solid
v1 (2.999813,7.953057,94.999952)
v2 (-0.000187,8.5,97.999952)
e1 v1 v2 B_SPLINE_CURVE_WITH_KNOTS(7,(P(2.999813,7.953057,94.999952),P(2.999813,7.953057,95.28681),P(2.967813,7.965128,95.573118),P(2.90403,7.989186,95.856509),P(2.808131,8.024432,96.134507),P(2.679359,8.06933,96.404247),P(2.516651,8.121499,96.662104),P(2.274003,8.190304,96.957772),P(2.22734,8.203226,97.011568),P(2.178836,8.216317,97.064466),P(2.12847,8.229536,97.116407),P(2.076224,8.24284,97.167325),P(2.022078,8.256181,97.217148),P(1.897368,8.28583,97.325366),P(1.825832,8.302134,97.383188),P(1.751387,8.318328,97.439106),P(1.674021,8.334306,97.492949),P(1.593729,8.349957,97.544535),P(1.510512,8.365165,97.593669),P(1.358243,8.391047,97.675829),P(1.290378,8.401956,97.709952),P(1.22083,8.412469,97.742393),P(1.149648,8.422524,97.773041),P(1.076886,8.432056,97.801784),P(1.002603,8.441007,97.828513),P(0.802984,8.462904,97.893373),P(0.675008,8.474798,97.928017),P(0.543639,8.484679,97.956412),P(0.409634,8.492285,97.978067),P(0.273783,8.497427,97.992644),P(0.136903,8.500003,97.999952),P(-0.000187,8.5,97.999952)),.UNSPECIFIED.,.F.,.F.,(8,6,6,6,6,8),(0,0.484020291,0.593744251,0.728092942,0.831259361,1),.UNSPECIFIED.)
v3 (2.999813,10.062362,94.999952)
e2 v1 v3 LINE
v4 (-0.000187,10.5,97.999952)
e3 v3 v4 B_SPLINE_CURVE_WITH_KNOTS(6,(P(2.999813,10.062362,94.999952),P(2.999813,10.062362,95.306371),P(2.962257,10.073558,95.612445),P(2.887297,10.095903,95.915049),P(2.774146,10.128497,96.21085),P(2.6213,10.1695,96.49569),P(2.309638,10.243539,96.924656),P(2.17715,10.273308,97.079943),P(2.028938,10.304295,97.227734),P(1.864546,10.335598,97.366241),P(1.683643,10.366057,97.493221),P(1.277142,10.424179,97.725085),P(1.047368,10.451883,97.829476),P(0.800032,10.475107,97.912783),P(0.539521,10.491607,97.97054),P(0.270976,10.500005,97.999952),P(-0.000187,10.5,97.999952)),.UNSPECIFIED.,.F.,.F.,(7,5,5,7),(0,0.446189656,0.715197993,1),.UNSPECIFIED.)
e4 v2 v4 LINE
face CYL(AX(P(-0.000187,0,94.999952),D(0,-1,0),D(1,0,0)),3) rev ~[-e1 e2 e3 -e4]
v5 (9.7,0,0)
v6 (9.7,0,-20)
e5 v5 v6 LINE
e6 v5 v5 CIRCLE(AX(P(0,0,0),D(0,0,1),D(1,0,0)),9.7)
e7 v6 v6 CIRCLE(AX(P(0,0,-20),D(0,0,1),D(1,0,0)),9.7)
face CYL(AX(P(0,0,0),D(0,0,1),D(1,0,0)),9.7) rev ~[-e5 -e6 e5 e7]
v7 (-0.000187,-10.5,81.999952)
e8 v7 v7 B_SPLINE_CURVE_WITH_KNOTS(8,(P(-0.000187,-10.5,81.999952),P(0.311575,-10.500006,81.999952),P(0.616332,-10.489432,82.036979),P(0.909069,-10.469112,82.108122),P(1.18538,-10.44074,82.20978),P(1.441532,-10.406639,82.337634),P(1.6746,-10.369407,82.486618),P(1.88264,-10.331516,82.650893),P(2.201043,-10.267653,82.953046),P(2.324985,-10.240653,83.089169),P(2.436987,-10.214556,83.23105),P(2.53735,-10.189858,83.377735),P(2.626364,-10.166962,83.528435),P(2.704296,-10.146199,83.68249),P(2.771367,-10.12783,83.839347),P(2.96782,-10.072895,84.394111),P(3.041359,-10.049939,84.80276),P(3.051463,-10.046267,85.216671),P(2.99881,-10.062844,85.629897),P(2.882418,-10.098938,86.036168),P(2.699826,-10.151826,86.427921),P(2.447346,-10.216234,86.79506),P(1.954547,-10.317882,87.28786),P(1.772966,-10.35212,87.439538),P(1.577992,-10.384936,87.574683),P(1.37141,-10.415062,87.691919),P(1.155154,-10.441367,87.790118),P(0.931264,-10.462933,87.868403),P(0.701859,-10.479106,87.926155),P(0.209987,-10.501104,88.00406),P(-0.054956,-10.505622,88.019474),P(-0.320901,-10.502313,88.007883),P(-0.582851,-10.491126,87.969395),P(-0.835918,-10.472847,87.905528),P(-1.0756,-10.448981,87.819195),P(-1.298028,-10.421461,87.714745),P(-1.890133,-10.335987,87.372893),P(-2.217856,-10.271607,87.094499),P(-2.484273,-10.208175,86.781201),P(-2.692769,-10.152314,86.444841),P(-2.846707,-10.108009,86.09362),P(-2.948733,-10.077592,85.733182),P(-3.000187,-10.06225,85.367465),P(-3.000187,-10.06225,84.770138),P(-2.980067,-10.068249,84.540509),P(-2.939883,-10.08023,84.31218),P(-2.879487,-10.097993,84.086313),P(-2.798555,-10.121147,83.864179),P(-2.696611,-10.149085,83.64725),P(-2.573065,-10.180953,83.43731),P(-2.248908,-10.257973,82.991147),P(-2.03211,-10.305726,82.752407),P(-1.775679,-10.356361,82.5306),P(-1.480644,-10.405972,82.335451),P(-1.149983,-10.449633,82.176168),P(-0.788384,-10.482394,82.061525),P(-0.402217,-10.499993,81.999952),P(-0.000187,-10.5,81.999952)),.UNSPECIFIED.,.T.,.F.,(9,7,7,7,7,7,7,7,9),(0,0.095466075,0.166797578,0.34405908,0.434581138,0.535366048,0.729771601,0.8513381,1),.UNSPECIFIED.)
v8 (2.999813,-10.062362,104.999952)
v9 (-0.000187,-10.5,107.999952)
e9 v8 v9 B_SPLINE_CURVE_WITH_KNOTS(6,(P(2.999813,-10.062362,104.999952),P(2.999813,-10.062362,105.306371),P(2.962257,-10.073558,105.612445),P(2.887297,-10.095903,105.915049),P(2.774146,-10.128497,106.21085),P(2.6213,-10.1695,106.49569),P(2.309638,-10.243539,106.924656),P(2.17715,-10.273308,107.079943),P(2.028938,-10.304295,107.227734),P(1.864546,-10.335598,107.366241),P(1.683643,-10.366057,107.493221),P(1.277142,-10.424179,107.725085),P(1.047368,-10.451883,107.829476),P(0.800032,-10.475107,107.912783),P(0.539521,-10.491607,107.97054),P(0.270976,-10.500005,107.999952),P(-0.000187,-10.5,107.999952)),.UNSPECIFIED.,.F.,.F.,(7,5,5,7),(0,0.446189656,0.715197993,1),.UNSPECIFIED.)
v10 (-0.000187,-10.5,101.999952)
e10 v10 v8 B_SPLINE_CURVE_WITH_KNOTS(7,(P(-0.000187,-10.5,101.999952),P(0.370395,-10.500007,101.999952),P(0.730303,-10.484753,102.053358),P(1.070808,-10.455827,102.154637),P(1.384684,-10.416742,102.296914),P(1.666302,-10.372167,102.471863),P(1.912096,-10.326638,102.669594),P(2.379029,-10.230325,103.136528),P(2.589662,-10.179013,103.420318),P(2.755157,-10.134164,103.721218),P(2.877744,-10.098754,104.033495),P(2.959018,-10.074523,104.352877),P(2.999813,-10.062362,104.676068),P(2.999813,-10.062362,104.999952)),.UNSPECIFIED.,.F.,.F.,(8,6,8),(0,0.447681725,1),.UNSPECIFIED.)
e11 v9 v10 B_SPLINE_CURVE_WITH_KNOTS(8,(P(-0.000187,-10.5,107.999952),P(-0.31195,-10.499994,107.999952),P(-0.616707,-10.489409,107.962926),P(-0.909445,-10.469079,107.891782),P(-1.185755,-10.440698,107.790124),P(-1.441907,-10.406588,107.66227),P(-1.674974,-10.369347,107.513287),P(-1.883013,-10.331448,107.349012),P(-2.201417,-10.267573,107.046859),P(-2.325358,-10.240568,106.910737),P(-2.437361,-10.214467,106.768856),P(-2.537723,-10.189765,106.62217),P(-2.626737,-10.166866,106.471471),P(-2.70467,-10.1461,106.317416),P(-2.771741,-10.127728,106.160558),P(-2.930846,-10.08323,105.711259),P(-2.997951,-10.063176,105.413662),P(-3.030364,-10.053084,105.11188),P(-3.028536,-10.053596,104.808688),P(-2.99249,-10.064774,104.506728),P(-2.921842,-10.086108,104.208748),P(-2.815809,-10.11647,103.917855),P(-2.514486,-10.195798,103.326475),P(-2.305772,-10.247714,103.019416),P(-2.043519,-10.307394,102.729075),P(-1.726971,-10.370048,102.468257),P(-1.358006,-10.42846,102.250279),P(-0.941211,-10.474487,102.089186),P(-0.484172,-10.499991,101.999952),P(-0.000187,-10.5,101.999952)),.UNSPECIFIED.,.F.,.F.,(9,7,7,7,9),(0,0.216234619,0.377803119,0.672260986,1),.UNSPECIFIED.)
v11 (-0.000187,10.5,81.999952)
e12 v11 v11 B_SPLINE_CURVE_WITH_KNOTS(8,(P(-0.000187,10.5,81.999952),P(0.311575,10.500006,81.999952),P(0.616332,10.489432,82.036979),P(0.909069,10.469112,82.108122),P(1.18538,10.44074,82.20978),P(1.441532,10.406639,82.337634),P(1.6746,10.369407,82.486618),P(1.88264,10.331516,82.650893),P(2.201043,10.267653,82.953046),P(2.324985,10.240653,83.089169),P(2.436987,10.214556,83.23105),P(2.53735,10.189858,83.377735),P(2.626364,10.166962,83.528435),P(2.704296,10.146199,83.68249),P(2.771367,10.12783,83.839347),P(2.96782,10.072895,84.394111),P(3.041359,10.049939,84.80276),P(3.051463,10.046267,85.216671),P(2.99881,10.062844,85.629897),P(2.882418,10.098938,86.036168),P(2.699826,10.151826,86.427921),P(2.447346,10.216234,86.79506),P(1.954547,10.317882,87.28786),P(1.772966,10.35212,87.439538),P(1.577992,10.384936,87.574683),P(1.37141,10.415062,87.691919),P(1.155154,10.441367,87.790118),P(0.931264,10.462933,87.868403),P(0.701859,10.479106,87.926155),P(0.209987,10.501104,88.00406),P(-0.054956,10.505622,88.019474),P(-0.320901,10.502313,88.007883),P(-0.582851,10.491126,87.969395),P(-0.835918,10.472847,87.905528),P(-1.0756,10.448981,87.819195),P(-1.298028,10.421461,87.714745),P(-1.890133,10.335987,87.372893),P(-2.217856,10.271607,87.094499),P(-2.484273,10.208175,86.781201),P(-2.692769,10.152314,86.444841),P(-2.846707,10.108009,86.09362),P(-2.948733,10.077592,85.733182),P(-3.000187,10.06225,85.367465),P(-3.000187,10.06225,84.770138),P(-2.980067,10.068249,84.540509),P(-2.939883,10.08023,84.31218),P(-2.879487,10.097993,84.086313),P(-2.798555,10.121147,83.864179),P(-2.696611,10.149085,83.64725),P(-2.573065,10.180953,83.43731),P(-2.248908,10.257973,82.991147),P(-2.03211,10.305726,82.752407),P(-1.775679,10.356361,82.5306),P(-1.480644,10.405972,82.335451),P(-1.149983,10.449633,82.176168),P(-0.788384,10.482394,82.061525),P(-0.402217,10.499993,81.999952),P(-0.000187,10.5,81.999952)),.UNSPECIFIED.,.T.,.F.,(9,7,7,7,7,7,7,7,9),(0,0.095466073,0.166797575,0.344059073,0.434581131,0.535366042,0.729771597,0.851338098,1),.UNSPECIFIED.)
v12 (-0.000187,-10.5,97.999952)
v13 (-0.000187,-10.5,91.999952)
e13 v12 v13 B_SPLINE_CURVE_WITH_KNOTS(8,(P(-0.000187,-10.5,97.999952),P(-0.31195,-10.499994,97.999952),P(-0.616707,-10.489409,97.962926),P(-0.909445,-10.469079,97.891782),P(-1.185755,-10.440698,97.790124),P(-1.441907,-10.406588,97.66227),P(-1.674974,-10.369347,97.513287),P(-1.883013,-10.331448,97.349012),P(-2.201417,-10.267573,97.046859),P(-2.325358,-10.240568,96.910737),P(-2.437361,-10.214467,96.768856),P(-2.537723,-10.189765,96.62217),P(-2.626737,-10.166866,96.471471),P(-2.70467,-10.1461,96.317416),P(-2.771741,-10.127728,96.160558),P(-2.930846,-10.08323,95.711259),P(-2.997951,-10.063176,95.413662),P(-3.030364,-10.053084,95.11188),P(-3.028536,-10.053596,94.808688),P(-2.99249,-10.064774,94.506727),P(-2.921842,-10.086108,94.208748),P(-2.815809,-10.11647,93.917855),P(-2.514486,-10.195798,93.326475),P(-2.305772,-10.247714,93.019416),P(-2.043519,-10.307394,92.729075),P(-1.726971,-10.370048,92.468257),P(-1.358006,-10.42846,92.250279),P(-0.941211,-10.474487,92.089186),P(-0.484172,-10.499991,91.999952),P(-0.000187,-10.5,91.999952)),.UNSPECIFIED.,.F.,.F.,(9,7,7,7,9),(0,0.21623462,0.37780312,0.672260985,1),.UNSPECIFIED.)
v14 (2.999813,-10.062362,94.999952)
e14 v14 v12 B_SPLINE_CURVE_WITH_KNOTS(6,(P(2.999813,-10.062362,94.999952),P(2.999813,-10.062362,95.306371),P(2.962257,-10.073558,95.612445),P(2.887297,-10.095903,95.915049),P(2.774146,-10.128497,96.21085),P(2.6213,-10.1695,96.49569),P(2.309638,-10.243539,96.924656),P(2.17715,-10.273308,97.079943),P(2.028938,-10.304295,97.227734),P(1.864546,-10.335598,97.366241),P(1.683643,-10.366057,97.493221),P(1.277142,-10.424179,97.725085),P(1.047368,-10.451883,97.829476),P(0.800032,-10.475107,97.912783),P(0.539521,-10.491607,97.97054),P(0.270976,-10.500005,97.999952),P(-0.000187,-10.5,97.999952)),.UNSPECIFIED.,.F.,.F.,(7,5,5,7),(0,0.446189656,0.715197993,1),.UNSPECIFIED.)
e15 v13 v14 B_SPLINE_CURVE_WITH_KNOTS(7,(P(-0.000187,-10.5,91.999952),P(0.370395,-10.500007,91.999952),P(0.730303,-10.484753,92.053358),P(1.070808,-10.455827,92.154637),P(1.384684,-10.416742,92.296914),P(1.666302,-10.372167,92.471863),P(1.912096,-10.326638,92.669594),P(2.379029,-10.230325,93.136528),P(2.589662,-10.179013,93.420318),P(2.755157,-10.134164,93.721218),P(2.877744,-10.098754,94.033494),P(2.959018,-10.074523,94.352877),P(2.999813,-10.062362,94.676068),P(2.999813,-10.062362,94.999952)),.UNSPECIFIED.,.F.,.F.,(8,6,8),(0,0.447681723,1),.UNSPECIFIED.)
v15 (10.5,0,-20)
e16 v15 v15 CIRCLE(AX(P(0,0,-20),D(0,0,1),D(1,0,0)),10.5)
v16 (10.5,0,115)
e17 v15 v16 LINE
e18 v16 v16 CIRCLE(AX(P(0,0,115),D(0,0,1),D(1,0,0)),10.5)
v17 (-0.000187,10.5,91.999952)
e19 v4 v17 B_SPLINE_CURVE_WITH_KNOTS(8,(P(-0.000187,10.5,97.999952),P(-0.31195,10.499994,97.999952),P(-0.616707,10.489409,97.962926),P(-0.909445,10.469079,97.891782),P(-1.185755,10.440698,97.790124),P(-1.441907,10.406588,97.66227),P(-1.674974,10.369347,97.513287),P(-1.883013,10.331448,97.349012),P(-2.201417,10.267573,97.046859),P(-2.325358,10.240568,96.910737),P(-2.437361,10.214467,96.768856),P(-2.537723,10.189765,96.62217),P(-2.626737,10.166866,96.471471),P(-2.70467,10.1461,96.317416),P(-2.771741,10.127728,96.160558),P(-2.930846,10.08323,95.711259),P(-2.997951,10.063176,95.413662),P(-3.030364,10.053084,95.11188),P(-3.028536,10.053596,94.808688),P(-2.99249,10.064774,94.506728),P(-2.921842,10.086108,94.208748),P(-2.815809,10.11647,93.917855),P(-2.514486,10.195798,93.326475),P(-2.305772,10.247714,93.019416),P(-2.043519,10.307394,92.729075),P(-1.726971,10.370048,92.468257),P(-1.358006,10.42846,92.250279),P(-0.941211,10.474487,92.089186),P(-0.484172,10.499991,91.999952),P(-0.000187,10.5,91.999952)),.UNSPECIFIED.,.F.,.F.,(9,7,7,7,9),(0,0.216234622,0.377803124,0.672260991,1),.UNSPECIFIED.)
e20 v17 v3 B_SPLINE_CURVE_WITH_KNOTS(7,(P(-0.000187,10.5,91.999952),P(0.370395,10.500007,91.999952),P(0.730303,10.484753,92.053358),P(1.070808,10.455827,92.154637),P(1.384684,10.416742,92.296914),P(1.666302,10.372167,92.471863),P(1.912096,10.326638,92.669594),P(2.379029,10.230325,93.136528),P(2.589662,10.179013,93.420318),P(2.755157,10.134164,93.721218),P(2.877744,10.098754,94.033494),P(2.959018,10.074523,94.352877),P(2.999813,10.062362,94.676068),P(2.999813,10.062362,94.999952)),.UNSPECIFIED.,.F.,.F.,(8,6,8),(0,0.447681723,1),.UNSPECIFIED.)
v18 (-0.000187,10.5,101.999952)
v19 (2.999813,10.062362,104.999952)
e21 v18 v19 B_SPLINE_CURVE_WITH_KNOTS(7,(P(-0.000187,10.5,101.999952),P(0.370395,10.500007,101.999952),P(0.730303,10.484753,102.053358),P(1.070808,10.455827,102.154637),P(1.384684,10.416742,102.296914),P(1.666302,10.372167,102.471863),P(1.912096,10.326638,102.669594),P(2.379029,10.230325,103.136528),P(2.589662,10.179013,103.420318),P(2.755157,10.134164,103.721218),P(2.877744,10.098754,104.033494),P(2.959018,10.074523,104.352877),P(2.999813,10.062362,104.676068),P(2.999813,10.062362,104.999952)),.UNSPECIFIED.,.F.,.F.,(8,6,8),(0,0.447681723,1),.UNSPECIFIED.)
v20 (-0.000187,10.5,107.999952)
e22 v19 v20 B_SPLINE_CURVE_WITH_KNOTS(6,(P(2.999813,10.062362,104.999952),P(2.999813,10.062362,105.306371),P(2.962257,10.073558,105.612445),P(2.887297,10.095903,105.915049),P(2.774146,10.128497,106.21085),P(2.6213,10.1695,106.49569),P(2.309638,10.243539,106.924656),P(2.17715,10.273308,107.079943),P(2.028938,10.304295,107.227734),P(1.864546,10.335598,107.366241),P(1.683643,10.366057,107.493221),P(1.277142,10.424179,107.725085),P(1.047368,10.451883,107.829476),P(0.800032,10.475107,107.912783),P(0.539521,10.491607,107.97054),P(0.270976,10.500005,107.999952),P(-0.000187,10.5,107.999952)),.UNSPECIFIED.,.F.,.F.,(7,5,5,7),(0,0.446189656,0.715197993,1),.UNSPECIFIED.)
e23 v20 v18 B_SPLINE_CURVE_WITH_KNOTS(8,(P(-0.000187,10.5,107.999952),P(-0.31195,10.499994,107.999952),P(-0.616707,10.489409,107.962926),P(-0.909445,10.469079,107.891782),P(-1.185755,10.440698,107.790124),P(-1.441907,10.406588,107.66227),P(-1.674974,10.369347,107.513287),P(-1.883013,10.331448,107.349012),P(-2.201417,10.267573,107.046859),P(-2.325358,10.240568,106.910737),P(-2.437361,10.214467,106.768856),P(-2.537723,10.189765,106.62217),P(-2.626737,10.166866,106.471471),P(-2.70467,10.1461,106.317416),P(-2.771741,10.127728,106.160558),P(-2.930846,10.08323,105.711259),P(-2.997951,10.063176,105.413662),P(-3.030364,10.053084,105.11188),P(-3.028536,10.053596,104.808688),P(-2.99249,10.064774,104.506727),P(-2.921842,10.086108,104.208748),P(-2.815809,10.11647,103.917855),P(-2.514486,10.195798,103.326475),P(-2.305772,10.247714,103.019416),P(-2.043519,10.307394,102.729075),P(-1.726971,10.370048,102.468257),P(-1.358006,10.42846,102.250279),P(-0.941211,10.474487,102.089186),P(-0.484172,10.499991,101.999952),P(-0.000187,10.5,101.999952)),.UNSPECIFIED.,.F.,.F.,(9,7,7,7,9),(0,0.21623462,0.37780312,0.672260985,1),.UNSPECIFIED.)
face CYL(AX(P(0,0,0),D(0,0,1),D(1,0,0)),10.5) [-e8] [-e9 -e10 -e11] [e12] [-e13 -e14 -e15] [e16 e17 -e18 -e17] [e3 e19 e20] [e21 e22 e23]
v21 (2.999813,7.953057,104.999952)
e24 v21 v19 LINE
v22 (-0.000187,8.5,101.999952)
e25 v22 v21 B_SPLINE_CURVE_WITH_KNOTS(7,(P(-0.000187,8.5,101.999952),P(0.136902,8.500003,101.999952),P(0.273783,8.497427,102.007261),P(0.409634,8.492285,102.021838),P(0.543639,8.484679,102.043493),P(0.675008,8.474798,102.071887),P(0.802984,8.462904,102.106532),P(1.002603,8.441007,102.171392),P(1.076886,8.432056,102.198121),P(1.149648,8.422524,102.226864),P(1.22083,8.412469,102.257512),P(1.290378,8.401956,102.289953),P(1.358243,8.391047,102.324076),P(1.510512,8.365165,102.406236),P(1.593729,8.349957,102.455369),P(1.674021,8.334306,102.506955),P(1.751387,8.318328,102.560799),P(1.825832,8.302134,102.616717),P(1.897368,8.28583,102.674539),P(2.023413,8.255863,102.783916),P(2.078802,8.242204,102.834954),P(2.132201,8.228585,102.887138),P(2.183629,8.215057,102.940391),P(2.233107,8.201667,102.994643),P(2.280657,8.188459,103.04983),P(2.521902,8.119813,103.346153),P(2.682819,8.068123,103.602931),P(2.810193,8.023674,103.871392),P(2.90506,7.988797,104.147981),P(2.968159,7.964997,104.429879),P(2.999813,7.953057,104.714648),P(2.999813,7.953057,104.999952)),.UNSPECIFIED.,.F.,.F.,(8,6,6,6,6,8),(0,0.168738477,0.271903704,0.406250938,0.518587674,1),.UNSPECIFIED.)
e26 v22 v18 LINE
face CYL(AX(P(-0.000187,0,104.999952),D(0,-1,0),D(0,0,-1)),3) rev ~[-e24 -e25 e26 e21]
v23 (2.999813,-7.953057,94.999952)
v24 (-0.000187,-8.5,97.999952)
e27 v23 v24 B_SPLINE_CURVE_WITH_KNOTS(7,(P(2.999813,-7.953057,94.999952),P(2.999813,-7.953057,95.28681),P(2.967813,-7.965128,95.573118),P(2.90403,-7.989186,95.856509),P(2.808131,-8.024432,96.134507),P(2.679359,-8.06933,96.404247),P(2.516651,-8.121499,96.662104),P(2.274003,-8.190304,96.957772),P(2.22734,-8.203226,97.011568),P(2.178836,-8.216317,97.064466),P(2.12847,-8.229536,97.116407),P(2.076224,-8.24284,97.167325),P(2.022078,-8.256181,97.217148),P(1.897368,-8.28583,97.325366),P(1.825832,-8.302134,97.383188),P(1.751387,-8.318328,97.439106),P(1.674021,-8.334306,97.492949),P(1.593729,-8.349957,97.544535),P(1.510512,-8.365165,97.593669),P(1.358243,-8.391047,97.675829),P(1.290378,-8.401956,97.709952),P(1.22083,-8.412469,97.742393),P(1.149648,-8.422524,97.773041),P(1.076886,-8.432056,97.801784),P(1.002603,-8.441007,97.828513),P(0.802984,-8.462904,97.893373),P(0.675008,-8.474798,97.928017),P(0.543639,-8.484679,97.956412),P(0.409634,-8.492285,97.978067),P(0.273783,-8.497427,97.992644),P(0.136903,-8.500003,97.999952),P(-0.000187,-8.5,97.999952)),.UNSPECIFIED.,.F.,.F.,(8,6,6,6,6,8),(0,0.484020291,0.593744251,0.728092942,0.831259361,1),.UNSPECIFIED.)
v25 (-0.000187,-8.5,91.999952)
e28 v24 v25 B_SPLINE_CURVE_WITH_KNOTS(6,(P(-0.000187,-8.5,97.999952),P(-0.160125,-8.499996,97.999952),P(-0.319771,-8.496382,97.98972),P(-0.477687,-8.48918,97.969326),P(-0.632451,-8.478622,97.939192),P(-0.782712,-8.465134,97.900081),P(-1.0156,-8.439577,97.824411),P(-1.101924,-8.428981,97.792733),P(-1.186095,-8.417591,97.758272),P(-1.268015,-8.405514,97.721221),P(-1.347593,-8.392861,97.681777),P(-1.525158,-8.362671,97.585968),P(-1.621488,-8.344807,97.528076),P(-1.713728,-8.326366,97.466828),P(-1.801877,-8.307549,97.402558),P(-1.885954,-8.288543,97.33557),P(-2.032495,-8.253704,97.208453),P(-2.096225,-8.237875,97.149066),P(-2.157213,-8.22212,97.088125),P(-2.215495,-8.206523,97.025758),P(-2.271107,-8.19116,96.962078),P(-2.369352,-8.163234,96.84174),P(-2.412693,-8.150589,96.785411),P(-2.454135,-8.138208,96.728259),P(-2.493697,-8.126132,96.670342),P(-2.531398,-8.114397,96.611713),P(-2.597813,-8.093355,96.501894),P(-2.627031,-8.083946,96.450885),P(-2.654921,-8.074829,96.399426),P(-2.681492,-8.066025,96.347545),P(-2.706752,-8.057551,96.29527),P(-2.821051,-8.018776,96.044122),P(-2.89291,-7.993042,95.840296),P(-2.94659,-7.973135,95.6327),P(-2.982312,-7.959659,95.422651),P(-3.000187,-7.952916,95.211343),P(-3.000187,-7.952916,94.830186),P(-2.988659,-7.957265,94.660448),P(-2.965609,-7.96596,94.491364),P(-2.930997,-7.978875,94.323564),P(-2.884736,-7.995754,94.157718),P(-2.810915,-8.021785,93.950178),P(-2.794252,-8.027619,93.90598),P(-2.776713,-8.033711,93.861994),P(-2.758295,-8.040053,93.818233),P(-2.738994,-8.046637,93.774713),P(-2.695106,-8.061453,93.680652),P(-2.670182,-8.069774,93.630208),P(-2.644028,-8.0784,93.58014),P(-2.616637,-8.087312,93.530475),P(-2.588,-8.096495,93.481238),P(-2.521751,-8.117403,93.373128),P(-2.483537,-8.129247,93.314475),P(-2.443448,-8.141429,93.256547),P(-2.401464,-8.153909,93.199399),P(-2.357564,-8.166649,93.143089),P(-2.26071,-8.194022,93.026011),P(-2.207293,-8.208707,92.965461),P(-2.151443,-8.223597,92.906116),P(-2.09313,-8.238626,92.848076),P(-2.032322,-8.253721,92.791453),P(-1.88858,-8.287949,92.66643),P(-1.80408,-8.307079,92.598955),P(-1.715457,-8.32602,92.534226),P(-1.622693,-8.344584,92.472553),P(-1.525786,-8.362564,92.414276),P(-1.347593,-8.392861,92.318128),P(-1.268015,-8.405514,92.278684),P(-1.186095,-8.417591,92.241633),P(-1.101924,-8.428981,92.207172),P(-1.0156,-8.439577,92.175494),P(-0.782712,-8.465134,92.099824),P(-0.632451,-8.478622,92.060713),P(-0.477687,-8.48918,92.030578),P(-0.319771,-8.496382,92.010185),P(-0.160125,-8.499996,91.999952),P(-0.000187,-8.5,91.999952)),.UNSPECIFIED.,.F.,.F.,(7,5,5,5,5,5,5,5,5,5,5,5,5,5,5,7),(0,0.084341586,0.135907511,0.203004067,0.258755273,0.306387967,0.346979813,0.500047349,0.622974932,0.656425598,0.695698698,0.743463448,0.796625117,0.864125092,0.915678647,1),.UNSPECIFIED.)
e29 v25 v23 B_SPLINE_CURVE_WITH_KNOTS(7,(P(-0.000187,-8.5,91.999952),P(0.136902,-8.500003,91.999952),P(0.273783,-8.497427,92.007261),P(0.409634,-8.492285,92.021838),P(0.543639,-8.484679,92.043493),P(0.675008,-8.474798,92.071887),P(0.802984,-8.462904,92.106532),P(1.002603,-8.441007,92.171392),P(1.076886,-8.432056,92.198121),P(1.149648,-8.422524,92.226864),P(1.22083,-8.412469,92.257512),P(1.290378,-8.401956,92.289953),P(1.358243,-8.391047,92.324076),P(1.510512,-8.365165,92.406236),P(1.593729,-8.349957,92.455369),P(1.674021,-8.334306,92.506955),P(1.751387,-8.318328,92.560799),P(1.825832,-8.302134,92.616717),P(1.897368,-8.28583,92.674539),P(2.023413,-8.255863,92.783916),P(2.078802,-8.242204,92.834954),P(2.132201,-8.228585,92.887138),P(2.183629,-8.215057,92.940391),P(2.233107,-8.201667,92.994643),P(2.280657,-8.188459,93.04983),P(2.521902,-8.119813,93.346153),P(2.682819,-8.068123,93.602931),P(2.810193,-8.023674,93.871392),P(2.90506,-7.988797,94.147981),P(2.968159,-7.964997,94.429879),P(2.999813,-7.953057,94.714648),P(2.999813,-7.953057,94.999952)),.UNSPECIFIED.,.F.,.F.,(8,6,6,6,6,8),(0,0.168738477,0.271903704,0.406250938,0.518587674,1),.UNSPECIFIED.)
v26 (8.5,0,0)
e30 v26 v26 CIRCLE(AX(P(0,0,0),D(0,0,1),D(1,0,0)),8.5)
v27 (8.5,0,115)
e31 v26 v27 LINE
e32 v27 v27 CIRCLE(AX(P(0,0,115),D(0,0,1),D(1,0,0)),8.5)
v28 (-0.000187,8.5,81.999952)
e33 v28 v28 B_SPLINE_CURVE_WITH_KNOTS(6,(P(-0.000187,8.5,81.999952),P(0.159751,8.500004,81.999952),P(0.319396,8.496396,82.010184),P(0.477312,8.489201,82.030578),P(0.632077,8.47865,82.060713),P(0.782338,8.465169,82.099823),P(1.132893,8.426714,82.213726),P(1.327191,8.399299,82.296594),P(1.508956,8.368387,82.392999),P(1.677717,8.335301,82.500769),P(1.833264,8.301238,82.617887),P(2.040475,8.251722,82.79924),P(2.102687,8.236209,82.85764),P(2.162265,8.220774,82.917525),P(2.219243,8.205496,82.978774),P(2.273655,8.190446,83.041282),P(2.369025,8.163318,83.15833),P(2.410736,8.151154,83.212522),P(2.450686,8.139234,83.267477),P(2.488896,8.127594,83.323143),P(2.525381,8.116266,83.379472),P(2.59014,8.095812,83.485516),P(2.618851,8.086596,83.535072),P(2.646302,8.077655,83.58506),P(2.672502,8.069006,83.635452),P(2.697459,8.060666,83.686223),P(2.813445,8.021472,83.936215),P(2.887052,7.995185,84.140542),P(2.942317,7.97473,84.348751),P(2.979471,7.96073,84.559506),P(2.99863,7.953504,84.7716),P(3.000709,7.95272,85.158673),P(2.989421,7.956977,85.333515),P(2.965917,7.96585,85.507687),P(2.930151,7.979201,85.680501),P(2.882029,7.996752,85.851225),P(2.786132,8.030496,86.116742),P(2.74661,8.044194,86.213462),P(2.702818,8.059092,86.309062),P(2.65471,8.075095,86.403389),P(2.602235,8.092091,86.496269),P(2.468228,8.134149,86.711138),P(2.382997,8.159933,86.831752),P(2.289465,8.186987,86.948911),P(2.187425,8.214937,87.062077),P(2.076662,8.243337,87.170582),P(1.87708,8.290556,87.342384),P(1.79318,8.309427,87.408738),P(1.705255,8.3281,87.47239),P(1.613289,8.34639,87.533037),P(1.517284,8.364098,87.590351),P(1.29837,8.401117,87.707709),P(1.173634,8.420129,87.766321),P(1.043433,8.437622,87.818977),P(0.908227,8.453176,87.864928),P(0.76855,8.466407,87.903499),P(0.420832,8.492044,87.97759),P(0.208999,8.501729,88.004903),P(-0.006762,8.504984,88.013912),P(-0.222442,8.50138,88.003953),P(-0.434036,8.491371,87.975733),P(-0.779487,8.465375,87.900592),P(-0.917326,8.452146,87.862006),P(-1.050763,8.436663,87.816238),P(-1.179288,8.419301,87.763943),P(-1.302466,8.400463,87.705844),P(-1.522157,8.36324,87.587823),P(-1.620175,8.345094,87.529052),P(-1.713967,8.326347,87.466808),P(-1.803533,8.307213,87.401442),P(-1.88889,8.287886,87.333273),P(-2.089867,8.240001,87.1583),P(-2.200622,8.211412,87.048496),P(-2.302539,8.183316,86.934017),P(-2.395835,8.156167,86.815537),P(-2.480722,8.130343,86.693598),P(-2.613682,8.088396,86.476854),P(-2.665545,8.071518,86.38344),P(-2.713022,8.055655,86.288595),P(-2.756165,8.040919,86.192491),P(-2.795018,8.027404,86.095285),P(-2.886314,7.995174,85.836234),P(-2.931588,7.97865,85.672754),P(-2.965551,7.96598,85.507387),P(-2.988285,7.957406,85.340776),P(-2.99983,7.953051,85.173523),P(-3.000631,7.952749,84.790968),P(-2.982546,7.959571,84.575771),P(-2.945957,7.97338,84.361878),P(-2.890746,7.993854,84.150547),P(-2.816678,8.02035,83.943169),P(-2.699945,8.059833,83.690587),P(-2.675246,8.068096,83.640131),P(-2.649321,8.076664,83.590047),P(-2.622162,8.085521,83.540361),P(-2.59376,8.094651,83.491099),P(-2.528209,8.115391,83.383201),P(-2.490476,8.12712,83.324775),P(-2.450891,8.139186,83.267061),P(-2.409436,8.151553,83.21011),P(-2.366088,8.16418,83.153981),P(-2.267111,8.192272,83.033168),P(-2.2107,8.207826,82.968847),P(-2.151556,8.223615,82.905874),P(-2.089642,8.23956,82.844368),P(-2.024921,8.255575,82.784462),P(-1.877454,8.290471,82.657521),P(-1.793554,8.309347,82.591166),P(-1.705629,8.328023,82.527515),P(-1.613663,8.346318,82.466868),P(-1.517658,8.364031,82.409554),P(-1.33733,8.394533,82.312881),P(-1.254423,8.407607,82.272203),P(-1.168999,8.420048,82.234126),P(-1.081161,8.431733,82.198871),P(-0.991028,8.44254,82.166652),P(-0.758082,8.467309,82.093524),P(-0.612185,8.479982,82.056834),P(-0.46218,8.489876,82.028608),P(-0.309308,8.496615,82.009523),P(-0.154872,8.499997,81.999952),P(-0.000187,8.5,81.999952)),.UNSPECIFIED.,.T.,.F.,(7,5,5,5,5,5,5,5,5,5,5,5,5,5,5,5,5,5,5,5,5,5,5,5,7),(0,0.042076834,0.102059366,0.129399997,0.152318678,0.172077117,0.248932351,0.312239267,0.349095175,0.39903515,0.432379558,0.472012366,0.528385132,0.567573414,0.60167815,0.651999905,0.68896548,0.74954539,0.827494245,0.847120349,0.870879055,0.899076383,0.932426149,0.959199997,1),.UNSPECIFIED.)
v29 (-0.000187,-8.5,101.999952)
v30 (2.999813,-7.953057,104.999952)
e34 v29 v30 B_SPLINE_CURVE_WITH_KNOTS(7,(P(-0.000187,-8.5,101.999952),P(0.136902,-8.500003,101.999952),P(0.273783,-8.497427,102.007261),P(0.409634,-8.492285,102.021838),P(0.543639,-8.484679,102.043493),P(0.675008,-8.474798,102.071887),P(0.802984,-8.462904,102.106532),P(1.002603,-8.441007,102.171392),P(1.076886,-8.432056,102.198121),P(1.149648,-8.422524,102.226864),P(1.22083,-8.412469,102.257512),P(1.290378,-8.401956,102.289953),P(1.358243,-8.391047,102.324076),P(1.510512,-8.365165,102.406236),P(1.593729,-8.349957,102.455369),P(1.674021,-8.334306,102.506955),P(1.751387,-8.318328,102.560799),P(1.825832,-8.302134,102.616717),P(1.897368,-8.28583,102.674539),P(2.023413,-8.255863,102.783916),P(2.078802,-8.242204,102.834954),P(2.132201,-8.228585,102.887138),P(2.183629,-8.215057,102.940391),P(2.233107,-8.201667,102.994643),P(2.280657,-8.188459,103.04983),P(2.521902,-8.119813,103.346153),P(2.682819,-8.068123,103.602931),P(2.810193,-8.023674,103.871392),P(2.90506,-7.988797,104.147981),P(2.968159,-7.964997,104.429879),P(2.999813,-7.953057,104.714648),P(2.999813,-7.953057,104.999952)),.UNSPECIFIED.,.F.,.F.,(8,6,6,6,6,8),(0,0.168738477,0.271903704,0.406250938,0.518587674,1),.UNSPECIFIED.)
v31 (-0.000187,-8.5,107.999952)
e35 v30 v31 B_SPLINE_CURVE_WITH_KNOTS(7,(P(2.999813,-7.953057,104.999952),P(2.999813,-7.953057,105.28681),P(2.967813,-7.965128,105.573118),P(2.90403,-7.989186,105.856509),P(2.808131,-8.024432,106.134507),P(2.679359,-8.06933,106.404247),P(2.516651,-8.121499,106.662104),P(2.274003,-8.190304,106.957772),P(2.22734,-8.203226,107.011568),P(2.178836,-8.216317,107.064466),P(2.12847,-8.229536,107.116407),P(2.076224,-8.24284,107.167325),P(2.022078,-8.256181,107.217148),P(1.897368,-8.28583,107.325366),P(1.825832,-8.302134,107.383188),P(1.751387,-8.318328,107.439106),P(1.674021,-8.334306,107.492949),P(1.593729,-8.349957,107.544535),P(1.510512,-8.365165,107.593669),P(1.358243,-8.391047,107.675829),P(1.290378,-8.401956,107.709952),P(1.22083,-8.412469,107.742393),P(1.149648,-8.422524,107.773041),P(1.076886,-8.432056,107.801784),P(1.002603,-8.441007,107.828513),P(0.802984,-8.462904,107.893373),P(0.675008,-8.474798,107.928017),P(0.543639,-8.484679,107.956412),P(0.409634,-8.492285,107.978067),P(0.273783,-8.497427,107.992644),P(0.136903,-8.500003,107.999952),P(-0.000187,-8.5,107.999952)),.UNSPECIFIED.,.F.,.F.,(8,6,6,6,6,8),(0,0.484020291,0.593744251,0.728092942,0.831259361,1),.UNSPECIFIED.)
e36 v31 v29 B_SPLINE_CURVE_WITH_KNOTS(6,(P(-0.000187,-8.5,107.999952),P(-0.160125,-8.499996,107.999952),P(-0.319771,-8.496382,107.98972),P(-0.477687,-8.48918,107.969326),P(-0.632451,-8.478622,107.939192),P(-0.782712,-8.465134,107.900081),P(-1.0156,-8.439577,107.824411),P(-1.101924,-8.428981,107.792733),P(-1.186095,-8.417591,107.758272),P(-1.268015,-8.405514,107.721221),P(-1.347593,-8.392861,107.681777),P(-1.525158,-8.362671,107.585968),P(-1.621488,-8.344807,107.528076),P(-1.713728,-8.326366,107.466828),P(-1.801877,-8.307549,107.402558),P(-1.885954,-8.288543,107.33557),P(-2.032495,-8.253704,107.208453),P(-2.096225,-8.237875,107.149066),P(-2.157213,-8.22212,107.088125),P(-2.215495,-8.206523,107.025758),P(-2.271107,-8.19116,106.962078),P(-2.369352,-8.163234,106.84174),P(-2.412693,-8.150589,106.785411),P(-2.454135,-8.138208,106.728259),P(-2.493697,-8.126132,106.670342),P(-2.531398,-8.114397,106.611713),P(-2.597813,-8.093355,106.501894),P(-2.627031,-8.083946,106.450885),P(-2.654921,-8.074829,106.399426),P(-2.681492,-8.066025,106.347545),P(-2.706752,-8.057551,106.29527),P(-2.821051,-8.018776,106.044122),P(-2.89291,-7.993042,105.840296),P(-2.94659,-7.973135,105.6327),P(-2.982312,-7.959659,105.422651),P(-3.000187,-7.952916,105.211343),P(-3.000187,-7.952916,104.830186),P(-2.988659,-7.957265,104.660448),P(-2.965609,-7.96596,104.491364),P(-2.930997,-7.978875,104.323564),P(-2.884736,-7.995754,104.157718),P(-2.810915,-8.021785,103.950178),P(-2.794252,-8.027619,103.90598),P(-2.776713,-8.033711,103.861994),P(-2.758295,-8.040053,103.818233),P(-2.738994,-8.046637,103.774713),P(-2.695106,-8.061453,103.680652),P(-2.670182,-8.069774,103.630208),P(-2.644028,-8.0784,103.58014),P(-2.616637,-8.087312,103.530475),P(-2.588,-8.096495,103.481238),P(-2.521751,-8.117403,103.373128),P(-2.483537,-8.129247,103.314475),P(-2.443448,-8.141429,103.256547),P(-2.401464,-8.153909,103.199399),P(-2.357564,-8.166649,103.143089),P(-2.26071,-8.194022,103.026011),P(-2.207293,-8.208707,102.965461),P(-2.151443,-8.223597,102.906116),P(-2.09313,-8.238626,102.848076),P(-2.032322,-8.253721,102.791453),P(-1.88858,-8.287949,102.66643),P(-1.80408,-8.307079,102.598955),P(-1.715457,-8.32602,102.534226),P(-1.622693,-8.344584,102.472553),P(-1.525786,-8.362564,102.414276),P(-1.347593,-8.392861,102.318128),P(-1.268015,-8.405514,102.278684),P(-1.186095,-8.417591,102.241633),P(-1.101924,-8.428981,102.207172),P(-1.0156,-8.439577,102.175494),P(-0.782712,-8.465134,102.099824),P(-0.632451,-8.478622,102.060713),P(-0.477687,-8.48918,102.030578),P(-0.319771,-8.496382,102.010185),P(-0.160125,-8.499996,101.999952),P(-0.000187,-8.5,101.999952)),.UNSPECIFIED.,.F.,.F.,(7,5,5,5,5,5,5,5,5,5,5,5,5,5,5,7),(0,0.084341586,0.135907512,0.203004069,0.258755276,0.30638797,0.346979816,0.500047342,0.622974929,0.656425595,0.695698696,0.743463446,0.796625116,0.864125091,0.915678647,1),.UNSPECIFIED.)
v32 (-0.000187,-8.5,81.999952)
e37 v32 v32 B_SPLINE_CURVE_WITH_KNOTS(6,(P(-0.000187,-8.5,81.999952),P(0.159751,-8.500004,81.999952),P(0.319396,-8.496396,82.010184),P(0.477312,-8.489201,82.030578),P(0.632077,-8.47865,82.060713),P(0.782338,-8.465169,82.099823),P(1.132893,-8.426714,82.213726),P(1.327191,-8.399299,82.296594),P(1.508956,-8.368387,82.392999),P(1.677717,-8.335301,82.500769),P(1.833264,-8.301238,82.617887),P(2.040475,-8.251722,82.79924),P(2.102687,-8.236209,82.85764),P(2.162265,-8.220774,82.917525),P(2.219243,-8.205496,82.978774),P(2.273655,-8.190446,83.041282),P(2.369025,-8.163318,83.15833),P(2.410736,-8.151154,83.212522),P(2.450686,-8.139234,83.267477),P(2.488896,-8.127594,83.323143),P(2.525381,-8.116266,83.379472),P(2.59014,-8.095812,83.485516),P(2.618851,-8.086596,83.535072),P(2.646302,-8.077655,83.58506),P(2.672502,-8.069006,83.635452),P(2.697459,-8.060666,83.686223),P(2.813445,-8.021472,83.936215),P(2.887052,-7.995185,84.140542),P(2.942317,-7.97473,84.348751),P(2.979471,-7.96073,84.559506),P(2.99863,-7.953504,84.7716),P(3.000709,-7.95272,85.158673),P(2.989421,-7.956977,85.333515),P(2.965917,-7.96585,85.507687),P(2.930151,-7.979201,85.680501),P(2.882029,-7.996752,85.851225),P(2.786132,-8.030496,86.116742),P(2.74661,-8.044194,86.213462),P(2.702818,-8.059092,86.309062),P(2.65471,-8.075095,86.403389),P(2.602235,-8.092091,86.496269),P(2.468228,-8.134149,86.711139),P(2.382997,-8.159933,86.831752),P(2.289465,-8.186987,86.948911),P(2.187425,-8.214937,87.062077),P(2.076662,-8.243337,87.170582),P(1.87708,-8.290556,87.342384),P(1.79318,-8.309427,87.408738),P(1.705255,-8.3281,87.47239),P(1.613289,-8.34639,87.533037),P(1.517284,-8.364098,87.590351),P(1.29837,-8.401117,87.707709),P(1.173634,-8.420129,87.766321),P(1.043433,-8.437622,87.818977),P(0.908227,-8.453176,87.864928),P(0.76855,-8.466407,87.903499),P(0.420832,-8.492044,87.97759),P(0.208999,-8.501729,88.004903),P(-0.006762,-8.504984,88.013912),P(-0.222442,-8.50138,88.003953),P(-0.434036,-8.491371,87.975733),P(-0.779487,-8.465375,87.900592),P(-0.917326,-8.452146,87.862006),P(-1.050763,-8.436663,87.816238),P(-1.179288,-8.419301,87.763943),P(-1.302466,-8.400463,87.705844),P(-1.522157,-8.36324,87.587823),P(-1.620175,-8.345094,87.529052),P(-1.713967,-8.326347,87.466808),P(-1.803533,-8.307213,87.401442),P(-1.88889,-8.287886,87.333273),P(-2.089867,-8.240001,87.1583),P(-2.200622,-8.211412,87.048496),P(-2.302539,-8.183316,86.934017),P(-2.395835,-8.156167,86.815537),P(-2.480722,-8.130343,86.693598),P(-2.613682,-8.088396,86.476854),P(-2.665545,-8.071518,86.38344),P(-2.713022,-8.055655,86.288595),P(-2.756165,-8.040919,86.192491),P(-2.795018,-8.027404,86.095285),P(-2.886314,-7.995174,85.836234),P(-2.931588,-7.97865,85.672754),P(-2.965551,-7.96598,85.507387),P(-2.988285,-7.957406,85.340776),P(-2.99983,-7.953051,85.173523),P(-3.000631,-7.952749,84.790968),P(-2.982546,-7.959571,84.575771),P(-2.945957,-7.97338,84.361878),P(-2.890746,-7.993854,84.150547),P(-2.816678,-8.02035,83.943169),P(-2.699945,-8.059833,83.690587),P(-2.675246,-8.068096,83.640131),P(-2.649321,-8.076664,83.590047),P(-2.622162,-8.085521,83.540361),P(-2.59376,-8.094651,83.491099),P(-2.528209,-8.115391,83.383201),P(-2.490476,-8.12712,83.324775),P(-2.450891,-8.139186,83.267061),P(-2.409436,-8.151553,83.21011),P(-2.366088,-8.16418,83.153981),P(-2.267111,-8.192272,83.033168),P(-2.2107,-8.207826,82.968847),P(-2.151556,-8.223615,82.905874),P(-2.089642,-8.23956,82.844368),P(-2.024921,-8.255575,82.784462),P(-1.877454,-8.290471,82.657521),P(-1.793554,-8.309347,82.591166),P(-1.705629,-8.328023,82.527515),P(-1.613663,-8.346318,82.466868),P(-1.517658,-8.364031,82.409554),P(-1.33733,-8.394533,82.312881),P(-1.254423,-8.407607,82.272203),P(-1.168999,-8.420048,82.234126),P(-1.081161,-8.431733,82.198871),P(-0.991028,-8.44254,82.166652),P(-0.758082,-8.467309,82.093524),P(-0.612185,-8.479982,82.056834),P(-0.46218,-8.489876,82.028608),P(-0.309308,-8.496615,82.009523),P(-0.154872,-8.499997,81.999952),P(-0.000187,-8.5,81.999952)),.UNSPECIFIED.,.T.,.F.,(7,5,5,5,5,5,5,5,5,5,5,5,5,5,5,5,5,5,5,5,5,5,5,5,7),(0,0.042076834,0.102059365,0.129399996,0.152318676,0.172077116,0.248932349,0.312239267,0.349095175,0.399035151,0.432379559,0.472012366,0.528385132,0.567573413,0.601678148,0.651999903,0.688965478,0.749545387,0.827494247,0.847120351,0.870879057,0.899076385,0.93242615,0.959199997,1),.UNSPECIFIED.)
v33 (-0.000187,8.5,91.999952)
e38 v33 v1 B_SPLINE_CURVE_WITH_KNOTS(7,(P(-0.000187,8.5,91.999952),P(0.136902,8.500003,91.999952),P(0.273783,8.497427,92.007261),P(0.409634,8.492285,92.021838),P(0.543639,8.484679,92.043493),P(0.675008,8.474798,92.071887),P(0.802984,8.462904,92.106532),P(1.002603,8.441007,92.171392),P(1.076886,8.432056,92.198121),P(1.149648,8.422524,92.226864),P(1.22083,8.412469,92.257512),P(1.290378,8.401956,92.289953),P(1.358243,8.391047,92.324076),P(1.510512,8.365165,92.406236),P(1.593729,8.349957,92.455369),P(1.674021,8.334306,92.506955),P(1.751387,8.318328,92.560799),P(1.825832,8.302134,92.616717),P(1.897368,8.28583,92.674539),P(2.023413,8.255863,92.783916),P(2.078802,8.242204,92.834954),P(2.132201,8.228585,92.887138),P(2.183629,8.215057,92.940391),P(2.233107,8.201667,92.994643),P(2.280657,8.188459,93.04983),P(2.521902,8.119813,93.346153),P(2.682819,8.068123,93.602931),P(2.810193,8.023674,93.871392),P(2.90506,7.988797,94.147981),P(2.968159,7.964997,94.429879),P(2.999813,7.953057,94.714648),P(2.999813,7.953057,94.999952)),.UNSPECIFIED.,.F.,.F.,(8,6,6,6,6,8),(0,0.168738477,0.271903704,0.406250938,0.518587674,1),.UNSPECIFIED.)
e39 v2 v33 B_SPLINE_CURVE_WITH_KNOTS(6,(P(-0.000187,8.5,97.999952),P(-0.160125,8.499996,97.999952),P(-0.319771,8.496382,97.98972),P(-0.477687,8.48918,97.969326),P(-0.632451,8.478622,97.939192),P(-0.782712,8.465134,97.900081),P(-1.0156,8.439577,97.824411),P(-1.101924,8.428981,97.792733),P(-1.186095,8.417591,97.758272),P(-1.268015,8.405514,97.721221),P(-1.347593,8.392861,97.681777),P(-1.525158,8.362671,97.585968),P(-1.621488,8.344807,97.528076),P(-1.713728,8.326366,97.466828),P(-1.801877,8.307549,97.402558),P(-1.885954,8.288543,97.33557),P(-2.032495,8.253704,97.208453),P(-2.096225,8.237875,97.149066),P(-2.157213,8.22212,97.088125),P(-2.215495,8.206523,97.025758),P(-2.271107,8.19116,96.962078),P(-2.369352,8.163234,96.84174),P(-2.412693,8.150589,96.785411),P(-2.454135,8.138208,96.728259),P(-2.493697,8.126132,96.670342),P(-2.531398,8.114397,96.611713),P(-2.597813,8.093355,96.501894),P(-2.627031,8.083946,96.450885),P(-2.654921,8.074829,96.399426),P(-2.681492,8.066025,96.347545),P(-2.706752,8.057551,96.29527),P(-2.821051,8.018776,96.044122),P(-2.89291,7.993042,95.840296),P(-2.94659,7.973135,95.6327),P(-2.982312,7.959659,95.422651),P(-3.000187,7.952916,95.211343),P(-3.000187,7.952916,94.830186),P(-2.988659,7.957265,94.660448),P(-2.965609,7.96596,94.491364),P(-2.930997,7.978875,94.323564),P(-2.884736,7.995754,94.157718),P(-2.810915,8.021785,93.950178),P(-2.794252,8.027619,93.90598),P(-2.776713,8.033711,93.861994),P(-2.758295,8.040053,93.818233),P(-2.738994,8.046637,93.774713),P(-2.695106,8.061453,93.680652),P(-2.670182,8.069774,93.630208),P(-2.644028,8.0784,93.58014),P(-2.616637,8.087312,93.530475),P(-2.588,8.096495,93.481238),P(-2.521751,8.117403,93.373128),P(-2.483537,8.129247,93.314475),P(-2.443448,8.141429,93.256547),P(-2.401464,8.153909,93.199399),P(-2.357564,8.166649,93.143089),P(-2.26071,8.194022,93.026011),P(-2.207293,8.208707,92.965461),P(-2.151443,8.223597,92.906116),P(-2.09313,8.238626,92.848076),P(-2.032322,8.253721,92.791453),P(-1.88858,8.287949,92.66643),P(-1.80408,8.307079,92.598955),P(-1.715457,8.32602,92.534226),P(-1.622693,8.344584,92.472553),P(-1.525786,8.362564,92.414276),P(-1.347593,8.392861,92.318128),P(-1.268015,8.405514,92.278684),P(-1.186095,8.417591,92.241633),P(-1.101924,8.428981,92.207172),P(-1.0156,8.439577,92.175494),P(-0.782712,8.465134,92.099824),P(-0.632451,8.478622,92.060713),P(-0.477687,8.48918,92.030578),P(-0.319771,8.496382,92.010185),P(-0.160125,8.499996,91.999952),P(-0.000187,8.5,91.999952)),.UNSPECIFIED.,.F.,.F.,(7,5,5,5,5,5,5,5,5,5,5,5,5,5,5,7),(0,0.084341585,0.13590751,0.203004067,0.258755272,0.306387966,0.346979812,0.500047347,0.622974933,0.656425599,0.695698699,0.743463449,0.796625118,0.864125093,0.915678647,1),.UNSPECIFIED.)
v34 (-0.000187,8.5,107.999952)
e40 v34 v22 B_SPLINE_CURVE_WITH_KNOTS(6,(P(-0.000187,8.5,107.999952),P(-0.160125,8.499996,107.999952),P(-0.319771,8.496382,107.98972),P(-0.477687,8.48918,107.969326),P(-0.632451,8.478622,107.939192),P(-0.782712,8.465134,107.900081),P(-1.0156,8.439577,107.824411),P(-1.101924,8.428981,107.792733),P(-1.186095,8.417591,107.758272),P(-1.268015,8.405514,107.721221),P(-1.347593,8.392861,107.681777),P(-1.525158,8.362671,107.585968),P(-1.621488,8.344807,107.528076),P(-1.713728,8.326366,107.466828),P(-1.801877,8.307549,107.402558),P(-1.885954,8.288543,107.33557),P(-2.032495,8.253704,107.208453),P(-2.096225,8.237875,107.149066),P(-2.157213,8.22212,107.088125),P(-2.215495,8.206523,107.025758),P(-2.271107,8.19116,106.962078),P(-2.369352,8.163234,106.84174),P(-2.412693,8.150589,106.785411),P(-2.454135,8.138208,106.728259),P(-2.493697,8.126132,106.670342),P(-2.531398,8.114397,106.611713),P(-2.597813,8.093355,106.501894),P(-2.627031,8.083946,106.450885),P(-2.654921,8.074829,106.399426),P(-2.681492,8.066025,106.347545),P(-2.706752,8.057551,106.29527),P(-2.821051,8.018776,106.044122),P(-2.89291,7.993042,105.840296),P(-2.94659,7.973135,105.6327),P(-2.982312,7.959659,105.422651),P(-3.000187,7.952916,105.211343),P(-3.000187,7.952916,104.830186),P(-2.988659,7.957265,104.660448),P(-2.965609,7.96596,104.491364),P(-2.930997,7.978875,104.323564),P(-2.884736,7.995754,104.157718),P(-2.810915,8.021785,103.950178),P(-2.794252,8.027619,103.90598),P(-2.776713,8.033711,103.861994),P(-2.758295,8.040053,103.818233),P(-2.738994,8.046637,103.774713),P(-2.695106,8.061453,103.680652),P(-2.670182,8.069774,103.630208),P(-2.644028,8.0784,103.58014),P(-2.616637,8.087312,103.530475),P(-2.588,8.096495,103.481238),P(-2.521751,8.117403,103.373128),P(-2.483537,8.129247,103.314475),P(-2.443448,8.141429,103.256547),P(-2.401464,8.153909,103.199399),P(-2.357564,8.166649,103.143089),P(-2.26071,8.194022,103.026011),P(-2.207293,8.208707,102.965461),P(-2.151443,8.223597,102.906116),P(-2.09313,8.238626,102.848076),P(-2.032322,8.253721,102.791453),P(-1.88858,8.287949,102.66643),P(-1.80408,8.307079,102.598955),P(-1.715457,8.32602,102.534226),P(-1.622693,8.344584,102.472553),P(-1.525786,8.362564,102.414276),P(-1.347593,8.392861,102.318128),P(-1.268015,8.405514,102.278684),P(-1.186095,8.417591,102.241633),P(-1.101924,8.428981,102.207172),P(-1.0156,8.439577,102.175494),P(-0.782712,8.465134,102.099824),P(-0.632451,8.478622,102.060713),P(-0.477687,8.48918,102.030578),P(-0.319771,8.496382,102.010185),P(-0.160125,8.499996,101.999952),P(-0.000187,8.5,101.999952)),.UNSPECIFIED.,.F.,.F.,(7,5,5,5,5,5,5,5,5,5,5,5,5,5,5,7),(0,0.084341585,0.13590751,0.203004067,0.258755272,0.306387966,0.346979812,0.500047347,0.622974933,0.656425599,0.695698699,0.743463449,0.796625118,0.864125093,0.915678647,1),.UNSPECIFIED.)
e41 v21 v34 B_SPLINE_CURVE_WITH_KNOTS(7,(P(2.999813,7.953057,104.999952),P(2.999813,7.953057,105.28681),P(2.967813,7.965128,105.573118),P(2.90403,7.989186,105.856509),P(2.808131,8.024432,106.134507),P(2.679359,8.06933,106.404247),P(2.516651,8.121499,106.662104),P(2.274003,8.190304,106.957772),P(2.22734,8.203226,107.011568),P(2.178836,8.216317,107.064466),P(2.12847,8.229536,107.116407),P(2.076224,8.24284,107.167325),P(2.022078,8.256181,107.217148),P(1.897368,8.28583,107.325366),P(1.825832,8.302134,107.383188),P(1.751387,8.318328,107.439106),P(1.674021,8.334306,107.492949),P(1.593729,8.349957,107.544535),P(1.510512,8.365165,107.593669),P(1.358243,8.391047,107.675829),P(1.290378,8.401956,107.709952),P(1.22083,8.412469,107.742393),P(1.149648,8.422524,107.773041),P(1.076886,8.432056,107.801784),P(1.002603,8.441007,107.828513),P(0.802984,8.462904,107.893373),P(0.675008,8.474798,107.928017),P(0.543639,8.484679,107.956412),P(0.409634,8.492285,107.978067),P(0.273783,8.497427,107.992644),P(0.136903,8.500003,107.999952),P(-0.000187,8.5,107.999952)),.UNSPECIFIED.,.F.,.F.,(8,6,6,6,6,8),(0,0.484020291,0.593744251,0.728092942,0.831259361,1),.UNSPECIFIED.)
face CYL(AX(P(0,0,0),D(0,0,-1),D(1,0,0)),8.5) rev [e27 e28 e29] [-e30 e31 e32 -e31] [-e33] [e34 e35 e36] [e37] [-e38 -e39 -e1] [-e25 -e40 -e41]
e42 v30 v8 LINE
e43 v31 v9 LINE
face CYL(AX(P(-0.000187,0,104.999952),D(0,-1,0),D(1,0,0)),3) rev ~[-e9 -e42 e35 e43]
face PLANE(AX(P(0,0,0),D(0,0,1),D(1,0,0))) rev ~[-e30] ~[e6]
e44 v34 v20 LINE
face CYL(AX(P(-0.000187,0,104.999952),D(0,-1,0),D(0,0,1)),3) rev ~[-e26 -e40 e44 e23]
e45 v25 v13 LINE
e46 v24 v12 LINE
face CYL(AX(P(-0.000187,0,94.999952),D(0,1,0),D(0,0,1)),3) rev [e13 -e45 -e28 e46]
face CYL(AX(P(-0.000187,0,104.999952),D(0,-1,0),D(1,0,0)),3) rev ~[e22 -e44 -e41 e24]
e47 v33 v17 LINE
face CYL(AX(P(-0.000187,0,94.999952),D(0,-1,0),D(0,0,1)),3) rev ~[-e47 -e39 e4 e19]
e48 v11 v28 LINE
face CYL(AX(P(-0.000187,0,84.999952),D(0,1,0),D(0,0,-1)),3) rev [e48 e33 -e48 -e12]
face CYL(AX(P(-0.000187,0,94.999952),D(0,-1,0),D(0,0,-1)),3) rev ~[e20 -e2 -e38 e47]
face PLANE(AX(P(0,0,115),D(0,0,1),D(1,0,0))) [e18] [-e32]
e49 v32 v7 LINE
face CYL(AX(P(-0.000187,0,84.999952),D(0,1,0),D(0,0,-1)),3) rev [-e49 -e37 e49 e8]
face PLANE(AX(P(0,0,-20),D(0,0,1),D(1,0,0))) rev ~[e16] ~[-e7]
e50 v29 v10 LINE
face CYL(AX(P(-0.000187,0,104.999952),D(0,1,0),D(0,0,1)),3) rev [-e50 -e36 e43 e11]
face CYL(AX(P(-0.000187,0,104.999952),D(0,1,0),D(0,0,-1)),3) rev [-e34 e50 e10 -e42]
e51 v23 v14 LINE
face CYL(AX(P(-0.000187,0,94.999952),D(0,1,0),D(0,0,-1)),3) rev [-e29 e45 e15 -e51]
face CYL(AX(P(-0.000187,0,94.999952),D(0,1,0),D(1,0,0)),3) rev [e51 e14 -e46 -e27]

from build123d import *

# Parameters (mm, degrees)
F0_R     = 10.5
F0_R_2   = 9.7
F0_R_3   = 9.5
F0_R_4   = 8.5
F2_DEPTH = 115
F3_DEPTH = 20
F4_DEPTH = 12.5


with BuildPart() as f2:
    # F0 (on Top) → F2 (new body)
    with BuildSketch(Plane.XY):
        Circle(F0_R)
        Circle(F0_R_2, mode=Mode.SUBTRACT)
        Circle(F0_R_2)
        Circle(F0_R_3, mode=Mode.SUBTRACT)
        Circle(F0_R_3)
        Circle(F0_R_4, mode=Mode.SUBTRACT)
    extrude(amount=F2_DEPTH)

    # F0 (on Top) → F3 (join)
    with BuildSketch(Plane.XY):
        Circle(F0_R)
        Circle(F0_R_2, mode=Mode.SUBTRACT)
    extrude(amount=-F3_DEPTH)

    # F1 (on Front) → F4 (cut, symmetric)
    with BuildSketch(Plane.XZ):
        with BuildLine():
            Line((-0.0001868698, 87.999952428), (-0.0001868698, 81.999952428))
            ThreePointArc((-0.0001868698, 81.999952428), (2.1211334738, 82.8786320845), (2.9998131302, 84.999952428))
            ThreePointArc((2.9998131302, 84.999952428), (2.1211334738, 87.1212727716), (-0.0001868698, 87.999952428))
        make_face()
        with BuildLine():
            ThreePointArc((-0.0001868698, 87.999952428), (-3.0001868698, 84.999952428), (-0.0001868698, 81.999952428))
            Line((-0.0001868698, 81.999952428), (-0.0001868698, 87.999952428))
        make_face()
        with BuildLine():
            ThreePointArc((-0.0001868698, 97.999952428), (-3.0001868698, 94.999952428), (-0.0001868698, 91.999952428))
            Line((-0.0001868698, 91.999952428), (-0.0001868698, 97.999952428))
        make_face()
        with BuildLine():
            Line((-0.0001868698, 97.999952428), (-0.0001868698, 91.999952428))
            ThreePointArc((-0.0001868698, 91.999952428), (2.1211334738, 92.8786320845), (2.9998131302, 94.999952428))
            ThreePointArc((2.9998131302, 94.999952428), (2.1211334738, 97.1212727716), (-0.0001868698, 97.999952428))
        make_face()
        with BuildLine():
            ThreePointArc((2.9998131302, 104.999952428), (2.1211334738, 107.1212727716), (-0.0001868698, 107.999952428))
            Line((-0.0001868698, 107.999952428), (-0.0001868698, 101.999952428))
            ThreePointArc((-0.0001868698, 101.999952428), (2.1211334738, 102.8786320845), (2.9998131302, 104.999952428))
        make_face()
        with BuildLine():
            Line((-0.0001868698, 101.999952428), (-0.0001868698, 107.999952428))
            ThreePointArc((-0.0001868698, 107.999952428), (-3.0001868698, 104.999952428), (-0.0001868698, 101.999952428))
        make_face()
    extrude(amount=F4_DEPTH, both=True, mode=Mode.SUBTRACT)


solid = f2.part
